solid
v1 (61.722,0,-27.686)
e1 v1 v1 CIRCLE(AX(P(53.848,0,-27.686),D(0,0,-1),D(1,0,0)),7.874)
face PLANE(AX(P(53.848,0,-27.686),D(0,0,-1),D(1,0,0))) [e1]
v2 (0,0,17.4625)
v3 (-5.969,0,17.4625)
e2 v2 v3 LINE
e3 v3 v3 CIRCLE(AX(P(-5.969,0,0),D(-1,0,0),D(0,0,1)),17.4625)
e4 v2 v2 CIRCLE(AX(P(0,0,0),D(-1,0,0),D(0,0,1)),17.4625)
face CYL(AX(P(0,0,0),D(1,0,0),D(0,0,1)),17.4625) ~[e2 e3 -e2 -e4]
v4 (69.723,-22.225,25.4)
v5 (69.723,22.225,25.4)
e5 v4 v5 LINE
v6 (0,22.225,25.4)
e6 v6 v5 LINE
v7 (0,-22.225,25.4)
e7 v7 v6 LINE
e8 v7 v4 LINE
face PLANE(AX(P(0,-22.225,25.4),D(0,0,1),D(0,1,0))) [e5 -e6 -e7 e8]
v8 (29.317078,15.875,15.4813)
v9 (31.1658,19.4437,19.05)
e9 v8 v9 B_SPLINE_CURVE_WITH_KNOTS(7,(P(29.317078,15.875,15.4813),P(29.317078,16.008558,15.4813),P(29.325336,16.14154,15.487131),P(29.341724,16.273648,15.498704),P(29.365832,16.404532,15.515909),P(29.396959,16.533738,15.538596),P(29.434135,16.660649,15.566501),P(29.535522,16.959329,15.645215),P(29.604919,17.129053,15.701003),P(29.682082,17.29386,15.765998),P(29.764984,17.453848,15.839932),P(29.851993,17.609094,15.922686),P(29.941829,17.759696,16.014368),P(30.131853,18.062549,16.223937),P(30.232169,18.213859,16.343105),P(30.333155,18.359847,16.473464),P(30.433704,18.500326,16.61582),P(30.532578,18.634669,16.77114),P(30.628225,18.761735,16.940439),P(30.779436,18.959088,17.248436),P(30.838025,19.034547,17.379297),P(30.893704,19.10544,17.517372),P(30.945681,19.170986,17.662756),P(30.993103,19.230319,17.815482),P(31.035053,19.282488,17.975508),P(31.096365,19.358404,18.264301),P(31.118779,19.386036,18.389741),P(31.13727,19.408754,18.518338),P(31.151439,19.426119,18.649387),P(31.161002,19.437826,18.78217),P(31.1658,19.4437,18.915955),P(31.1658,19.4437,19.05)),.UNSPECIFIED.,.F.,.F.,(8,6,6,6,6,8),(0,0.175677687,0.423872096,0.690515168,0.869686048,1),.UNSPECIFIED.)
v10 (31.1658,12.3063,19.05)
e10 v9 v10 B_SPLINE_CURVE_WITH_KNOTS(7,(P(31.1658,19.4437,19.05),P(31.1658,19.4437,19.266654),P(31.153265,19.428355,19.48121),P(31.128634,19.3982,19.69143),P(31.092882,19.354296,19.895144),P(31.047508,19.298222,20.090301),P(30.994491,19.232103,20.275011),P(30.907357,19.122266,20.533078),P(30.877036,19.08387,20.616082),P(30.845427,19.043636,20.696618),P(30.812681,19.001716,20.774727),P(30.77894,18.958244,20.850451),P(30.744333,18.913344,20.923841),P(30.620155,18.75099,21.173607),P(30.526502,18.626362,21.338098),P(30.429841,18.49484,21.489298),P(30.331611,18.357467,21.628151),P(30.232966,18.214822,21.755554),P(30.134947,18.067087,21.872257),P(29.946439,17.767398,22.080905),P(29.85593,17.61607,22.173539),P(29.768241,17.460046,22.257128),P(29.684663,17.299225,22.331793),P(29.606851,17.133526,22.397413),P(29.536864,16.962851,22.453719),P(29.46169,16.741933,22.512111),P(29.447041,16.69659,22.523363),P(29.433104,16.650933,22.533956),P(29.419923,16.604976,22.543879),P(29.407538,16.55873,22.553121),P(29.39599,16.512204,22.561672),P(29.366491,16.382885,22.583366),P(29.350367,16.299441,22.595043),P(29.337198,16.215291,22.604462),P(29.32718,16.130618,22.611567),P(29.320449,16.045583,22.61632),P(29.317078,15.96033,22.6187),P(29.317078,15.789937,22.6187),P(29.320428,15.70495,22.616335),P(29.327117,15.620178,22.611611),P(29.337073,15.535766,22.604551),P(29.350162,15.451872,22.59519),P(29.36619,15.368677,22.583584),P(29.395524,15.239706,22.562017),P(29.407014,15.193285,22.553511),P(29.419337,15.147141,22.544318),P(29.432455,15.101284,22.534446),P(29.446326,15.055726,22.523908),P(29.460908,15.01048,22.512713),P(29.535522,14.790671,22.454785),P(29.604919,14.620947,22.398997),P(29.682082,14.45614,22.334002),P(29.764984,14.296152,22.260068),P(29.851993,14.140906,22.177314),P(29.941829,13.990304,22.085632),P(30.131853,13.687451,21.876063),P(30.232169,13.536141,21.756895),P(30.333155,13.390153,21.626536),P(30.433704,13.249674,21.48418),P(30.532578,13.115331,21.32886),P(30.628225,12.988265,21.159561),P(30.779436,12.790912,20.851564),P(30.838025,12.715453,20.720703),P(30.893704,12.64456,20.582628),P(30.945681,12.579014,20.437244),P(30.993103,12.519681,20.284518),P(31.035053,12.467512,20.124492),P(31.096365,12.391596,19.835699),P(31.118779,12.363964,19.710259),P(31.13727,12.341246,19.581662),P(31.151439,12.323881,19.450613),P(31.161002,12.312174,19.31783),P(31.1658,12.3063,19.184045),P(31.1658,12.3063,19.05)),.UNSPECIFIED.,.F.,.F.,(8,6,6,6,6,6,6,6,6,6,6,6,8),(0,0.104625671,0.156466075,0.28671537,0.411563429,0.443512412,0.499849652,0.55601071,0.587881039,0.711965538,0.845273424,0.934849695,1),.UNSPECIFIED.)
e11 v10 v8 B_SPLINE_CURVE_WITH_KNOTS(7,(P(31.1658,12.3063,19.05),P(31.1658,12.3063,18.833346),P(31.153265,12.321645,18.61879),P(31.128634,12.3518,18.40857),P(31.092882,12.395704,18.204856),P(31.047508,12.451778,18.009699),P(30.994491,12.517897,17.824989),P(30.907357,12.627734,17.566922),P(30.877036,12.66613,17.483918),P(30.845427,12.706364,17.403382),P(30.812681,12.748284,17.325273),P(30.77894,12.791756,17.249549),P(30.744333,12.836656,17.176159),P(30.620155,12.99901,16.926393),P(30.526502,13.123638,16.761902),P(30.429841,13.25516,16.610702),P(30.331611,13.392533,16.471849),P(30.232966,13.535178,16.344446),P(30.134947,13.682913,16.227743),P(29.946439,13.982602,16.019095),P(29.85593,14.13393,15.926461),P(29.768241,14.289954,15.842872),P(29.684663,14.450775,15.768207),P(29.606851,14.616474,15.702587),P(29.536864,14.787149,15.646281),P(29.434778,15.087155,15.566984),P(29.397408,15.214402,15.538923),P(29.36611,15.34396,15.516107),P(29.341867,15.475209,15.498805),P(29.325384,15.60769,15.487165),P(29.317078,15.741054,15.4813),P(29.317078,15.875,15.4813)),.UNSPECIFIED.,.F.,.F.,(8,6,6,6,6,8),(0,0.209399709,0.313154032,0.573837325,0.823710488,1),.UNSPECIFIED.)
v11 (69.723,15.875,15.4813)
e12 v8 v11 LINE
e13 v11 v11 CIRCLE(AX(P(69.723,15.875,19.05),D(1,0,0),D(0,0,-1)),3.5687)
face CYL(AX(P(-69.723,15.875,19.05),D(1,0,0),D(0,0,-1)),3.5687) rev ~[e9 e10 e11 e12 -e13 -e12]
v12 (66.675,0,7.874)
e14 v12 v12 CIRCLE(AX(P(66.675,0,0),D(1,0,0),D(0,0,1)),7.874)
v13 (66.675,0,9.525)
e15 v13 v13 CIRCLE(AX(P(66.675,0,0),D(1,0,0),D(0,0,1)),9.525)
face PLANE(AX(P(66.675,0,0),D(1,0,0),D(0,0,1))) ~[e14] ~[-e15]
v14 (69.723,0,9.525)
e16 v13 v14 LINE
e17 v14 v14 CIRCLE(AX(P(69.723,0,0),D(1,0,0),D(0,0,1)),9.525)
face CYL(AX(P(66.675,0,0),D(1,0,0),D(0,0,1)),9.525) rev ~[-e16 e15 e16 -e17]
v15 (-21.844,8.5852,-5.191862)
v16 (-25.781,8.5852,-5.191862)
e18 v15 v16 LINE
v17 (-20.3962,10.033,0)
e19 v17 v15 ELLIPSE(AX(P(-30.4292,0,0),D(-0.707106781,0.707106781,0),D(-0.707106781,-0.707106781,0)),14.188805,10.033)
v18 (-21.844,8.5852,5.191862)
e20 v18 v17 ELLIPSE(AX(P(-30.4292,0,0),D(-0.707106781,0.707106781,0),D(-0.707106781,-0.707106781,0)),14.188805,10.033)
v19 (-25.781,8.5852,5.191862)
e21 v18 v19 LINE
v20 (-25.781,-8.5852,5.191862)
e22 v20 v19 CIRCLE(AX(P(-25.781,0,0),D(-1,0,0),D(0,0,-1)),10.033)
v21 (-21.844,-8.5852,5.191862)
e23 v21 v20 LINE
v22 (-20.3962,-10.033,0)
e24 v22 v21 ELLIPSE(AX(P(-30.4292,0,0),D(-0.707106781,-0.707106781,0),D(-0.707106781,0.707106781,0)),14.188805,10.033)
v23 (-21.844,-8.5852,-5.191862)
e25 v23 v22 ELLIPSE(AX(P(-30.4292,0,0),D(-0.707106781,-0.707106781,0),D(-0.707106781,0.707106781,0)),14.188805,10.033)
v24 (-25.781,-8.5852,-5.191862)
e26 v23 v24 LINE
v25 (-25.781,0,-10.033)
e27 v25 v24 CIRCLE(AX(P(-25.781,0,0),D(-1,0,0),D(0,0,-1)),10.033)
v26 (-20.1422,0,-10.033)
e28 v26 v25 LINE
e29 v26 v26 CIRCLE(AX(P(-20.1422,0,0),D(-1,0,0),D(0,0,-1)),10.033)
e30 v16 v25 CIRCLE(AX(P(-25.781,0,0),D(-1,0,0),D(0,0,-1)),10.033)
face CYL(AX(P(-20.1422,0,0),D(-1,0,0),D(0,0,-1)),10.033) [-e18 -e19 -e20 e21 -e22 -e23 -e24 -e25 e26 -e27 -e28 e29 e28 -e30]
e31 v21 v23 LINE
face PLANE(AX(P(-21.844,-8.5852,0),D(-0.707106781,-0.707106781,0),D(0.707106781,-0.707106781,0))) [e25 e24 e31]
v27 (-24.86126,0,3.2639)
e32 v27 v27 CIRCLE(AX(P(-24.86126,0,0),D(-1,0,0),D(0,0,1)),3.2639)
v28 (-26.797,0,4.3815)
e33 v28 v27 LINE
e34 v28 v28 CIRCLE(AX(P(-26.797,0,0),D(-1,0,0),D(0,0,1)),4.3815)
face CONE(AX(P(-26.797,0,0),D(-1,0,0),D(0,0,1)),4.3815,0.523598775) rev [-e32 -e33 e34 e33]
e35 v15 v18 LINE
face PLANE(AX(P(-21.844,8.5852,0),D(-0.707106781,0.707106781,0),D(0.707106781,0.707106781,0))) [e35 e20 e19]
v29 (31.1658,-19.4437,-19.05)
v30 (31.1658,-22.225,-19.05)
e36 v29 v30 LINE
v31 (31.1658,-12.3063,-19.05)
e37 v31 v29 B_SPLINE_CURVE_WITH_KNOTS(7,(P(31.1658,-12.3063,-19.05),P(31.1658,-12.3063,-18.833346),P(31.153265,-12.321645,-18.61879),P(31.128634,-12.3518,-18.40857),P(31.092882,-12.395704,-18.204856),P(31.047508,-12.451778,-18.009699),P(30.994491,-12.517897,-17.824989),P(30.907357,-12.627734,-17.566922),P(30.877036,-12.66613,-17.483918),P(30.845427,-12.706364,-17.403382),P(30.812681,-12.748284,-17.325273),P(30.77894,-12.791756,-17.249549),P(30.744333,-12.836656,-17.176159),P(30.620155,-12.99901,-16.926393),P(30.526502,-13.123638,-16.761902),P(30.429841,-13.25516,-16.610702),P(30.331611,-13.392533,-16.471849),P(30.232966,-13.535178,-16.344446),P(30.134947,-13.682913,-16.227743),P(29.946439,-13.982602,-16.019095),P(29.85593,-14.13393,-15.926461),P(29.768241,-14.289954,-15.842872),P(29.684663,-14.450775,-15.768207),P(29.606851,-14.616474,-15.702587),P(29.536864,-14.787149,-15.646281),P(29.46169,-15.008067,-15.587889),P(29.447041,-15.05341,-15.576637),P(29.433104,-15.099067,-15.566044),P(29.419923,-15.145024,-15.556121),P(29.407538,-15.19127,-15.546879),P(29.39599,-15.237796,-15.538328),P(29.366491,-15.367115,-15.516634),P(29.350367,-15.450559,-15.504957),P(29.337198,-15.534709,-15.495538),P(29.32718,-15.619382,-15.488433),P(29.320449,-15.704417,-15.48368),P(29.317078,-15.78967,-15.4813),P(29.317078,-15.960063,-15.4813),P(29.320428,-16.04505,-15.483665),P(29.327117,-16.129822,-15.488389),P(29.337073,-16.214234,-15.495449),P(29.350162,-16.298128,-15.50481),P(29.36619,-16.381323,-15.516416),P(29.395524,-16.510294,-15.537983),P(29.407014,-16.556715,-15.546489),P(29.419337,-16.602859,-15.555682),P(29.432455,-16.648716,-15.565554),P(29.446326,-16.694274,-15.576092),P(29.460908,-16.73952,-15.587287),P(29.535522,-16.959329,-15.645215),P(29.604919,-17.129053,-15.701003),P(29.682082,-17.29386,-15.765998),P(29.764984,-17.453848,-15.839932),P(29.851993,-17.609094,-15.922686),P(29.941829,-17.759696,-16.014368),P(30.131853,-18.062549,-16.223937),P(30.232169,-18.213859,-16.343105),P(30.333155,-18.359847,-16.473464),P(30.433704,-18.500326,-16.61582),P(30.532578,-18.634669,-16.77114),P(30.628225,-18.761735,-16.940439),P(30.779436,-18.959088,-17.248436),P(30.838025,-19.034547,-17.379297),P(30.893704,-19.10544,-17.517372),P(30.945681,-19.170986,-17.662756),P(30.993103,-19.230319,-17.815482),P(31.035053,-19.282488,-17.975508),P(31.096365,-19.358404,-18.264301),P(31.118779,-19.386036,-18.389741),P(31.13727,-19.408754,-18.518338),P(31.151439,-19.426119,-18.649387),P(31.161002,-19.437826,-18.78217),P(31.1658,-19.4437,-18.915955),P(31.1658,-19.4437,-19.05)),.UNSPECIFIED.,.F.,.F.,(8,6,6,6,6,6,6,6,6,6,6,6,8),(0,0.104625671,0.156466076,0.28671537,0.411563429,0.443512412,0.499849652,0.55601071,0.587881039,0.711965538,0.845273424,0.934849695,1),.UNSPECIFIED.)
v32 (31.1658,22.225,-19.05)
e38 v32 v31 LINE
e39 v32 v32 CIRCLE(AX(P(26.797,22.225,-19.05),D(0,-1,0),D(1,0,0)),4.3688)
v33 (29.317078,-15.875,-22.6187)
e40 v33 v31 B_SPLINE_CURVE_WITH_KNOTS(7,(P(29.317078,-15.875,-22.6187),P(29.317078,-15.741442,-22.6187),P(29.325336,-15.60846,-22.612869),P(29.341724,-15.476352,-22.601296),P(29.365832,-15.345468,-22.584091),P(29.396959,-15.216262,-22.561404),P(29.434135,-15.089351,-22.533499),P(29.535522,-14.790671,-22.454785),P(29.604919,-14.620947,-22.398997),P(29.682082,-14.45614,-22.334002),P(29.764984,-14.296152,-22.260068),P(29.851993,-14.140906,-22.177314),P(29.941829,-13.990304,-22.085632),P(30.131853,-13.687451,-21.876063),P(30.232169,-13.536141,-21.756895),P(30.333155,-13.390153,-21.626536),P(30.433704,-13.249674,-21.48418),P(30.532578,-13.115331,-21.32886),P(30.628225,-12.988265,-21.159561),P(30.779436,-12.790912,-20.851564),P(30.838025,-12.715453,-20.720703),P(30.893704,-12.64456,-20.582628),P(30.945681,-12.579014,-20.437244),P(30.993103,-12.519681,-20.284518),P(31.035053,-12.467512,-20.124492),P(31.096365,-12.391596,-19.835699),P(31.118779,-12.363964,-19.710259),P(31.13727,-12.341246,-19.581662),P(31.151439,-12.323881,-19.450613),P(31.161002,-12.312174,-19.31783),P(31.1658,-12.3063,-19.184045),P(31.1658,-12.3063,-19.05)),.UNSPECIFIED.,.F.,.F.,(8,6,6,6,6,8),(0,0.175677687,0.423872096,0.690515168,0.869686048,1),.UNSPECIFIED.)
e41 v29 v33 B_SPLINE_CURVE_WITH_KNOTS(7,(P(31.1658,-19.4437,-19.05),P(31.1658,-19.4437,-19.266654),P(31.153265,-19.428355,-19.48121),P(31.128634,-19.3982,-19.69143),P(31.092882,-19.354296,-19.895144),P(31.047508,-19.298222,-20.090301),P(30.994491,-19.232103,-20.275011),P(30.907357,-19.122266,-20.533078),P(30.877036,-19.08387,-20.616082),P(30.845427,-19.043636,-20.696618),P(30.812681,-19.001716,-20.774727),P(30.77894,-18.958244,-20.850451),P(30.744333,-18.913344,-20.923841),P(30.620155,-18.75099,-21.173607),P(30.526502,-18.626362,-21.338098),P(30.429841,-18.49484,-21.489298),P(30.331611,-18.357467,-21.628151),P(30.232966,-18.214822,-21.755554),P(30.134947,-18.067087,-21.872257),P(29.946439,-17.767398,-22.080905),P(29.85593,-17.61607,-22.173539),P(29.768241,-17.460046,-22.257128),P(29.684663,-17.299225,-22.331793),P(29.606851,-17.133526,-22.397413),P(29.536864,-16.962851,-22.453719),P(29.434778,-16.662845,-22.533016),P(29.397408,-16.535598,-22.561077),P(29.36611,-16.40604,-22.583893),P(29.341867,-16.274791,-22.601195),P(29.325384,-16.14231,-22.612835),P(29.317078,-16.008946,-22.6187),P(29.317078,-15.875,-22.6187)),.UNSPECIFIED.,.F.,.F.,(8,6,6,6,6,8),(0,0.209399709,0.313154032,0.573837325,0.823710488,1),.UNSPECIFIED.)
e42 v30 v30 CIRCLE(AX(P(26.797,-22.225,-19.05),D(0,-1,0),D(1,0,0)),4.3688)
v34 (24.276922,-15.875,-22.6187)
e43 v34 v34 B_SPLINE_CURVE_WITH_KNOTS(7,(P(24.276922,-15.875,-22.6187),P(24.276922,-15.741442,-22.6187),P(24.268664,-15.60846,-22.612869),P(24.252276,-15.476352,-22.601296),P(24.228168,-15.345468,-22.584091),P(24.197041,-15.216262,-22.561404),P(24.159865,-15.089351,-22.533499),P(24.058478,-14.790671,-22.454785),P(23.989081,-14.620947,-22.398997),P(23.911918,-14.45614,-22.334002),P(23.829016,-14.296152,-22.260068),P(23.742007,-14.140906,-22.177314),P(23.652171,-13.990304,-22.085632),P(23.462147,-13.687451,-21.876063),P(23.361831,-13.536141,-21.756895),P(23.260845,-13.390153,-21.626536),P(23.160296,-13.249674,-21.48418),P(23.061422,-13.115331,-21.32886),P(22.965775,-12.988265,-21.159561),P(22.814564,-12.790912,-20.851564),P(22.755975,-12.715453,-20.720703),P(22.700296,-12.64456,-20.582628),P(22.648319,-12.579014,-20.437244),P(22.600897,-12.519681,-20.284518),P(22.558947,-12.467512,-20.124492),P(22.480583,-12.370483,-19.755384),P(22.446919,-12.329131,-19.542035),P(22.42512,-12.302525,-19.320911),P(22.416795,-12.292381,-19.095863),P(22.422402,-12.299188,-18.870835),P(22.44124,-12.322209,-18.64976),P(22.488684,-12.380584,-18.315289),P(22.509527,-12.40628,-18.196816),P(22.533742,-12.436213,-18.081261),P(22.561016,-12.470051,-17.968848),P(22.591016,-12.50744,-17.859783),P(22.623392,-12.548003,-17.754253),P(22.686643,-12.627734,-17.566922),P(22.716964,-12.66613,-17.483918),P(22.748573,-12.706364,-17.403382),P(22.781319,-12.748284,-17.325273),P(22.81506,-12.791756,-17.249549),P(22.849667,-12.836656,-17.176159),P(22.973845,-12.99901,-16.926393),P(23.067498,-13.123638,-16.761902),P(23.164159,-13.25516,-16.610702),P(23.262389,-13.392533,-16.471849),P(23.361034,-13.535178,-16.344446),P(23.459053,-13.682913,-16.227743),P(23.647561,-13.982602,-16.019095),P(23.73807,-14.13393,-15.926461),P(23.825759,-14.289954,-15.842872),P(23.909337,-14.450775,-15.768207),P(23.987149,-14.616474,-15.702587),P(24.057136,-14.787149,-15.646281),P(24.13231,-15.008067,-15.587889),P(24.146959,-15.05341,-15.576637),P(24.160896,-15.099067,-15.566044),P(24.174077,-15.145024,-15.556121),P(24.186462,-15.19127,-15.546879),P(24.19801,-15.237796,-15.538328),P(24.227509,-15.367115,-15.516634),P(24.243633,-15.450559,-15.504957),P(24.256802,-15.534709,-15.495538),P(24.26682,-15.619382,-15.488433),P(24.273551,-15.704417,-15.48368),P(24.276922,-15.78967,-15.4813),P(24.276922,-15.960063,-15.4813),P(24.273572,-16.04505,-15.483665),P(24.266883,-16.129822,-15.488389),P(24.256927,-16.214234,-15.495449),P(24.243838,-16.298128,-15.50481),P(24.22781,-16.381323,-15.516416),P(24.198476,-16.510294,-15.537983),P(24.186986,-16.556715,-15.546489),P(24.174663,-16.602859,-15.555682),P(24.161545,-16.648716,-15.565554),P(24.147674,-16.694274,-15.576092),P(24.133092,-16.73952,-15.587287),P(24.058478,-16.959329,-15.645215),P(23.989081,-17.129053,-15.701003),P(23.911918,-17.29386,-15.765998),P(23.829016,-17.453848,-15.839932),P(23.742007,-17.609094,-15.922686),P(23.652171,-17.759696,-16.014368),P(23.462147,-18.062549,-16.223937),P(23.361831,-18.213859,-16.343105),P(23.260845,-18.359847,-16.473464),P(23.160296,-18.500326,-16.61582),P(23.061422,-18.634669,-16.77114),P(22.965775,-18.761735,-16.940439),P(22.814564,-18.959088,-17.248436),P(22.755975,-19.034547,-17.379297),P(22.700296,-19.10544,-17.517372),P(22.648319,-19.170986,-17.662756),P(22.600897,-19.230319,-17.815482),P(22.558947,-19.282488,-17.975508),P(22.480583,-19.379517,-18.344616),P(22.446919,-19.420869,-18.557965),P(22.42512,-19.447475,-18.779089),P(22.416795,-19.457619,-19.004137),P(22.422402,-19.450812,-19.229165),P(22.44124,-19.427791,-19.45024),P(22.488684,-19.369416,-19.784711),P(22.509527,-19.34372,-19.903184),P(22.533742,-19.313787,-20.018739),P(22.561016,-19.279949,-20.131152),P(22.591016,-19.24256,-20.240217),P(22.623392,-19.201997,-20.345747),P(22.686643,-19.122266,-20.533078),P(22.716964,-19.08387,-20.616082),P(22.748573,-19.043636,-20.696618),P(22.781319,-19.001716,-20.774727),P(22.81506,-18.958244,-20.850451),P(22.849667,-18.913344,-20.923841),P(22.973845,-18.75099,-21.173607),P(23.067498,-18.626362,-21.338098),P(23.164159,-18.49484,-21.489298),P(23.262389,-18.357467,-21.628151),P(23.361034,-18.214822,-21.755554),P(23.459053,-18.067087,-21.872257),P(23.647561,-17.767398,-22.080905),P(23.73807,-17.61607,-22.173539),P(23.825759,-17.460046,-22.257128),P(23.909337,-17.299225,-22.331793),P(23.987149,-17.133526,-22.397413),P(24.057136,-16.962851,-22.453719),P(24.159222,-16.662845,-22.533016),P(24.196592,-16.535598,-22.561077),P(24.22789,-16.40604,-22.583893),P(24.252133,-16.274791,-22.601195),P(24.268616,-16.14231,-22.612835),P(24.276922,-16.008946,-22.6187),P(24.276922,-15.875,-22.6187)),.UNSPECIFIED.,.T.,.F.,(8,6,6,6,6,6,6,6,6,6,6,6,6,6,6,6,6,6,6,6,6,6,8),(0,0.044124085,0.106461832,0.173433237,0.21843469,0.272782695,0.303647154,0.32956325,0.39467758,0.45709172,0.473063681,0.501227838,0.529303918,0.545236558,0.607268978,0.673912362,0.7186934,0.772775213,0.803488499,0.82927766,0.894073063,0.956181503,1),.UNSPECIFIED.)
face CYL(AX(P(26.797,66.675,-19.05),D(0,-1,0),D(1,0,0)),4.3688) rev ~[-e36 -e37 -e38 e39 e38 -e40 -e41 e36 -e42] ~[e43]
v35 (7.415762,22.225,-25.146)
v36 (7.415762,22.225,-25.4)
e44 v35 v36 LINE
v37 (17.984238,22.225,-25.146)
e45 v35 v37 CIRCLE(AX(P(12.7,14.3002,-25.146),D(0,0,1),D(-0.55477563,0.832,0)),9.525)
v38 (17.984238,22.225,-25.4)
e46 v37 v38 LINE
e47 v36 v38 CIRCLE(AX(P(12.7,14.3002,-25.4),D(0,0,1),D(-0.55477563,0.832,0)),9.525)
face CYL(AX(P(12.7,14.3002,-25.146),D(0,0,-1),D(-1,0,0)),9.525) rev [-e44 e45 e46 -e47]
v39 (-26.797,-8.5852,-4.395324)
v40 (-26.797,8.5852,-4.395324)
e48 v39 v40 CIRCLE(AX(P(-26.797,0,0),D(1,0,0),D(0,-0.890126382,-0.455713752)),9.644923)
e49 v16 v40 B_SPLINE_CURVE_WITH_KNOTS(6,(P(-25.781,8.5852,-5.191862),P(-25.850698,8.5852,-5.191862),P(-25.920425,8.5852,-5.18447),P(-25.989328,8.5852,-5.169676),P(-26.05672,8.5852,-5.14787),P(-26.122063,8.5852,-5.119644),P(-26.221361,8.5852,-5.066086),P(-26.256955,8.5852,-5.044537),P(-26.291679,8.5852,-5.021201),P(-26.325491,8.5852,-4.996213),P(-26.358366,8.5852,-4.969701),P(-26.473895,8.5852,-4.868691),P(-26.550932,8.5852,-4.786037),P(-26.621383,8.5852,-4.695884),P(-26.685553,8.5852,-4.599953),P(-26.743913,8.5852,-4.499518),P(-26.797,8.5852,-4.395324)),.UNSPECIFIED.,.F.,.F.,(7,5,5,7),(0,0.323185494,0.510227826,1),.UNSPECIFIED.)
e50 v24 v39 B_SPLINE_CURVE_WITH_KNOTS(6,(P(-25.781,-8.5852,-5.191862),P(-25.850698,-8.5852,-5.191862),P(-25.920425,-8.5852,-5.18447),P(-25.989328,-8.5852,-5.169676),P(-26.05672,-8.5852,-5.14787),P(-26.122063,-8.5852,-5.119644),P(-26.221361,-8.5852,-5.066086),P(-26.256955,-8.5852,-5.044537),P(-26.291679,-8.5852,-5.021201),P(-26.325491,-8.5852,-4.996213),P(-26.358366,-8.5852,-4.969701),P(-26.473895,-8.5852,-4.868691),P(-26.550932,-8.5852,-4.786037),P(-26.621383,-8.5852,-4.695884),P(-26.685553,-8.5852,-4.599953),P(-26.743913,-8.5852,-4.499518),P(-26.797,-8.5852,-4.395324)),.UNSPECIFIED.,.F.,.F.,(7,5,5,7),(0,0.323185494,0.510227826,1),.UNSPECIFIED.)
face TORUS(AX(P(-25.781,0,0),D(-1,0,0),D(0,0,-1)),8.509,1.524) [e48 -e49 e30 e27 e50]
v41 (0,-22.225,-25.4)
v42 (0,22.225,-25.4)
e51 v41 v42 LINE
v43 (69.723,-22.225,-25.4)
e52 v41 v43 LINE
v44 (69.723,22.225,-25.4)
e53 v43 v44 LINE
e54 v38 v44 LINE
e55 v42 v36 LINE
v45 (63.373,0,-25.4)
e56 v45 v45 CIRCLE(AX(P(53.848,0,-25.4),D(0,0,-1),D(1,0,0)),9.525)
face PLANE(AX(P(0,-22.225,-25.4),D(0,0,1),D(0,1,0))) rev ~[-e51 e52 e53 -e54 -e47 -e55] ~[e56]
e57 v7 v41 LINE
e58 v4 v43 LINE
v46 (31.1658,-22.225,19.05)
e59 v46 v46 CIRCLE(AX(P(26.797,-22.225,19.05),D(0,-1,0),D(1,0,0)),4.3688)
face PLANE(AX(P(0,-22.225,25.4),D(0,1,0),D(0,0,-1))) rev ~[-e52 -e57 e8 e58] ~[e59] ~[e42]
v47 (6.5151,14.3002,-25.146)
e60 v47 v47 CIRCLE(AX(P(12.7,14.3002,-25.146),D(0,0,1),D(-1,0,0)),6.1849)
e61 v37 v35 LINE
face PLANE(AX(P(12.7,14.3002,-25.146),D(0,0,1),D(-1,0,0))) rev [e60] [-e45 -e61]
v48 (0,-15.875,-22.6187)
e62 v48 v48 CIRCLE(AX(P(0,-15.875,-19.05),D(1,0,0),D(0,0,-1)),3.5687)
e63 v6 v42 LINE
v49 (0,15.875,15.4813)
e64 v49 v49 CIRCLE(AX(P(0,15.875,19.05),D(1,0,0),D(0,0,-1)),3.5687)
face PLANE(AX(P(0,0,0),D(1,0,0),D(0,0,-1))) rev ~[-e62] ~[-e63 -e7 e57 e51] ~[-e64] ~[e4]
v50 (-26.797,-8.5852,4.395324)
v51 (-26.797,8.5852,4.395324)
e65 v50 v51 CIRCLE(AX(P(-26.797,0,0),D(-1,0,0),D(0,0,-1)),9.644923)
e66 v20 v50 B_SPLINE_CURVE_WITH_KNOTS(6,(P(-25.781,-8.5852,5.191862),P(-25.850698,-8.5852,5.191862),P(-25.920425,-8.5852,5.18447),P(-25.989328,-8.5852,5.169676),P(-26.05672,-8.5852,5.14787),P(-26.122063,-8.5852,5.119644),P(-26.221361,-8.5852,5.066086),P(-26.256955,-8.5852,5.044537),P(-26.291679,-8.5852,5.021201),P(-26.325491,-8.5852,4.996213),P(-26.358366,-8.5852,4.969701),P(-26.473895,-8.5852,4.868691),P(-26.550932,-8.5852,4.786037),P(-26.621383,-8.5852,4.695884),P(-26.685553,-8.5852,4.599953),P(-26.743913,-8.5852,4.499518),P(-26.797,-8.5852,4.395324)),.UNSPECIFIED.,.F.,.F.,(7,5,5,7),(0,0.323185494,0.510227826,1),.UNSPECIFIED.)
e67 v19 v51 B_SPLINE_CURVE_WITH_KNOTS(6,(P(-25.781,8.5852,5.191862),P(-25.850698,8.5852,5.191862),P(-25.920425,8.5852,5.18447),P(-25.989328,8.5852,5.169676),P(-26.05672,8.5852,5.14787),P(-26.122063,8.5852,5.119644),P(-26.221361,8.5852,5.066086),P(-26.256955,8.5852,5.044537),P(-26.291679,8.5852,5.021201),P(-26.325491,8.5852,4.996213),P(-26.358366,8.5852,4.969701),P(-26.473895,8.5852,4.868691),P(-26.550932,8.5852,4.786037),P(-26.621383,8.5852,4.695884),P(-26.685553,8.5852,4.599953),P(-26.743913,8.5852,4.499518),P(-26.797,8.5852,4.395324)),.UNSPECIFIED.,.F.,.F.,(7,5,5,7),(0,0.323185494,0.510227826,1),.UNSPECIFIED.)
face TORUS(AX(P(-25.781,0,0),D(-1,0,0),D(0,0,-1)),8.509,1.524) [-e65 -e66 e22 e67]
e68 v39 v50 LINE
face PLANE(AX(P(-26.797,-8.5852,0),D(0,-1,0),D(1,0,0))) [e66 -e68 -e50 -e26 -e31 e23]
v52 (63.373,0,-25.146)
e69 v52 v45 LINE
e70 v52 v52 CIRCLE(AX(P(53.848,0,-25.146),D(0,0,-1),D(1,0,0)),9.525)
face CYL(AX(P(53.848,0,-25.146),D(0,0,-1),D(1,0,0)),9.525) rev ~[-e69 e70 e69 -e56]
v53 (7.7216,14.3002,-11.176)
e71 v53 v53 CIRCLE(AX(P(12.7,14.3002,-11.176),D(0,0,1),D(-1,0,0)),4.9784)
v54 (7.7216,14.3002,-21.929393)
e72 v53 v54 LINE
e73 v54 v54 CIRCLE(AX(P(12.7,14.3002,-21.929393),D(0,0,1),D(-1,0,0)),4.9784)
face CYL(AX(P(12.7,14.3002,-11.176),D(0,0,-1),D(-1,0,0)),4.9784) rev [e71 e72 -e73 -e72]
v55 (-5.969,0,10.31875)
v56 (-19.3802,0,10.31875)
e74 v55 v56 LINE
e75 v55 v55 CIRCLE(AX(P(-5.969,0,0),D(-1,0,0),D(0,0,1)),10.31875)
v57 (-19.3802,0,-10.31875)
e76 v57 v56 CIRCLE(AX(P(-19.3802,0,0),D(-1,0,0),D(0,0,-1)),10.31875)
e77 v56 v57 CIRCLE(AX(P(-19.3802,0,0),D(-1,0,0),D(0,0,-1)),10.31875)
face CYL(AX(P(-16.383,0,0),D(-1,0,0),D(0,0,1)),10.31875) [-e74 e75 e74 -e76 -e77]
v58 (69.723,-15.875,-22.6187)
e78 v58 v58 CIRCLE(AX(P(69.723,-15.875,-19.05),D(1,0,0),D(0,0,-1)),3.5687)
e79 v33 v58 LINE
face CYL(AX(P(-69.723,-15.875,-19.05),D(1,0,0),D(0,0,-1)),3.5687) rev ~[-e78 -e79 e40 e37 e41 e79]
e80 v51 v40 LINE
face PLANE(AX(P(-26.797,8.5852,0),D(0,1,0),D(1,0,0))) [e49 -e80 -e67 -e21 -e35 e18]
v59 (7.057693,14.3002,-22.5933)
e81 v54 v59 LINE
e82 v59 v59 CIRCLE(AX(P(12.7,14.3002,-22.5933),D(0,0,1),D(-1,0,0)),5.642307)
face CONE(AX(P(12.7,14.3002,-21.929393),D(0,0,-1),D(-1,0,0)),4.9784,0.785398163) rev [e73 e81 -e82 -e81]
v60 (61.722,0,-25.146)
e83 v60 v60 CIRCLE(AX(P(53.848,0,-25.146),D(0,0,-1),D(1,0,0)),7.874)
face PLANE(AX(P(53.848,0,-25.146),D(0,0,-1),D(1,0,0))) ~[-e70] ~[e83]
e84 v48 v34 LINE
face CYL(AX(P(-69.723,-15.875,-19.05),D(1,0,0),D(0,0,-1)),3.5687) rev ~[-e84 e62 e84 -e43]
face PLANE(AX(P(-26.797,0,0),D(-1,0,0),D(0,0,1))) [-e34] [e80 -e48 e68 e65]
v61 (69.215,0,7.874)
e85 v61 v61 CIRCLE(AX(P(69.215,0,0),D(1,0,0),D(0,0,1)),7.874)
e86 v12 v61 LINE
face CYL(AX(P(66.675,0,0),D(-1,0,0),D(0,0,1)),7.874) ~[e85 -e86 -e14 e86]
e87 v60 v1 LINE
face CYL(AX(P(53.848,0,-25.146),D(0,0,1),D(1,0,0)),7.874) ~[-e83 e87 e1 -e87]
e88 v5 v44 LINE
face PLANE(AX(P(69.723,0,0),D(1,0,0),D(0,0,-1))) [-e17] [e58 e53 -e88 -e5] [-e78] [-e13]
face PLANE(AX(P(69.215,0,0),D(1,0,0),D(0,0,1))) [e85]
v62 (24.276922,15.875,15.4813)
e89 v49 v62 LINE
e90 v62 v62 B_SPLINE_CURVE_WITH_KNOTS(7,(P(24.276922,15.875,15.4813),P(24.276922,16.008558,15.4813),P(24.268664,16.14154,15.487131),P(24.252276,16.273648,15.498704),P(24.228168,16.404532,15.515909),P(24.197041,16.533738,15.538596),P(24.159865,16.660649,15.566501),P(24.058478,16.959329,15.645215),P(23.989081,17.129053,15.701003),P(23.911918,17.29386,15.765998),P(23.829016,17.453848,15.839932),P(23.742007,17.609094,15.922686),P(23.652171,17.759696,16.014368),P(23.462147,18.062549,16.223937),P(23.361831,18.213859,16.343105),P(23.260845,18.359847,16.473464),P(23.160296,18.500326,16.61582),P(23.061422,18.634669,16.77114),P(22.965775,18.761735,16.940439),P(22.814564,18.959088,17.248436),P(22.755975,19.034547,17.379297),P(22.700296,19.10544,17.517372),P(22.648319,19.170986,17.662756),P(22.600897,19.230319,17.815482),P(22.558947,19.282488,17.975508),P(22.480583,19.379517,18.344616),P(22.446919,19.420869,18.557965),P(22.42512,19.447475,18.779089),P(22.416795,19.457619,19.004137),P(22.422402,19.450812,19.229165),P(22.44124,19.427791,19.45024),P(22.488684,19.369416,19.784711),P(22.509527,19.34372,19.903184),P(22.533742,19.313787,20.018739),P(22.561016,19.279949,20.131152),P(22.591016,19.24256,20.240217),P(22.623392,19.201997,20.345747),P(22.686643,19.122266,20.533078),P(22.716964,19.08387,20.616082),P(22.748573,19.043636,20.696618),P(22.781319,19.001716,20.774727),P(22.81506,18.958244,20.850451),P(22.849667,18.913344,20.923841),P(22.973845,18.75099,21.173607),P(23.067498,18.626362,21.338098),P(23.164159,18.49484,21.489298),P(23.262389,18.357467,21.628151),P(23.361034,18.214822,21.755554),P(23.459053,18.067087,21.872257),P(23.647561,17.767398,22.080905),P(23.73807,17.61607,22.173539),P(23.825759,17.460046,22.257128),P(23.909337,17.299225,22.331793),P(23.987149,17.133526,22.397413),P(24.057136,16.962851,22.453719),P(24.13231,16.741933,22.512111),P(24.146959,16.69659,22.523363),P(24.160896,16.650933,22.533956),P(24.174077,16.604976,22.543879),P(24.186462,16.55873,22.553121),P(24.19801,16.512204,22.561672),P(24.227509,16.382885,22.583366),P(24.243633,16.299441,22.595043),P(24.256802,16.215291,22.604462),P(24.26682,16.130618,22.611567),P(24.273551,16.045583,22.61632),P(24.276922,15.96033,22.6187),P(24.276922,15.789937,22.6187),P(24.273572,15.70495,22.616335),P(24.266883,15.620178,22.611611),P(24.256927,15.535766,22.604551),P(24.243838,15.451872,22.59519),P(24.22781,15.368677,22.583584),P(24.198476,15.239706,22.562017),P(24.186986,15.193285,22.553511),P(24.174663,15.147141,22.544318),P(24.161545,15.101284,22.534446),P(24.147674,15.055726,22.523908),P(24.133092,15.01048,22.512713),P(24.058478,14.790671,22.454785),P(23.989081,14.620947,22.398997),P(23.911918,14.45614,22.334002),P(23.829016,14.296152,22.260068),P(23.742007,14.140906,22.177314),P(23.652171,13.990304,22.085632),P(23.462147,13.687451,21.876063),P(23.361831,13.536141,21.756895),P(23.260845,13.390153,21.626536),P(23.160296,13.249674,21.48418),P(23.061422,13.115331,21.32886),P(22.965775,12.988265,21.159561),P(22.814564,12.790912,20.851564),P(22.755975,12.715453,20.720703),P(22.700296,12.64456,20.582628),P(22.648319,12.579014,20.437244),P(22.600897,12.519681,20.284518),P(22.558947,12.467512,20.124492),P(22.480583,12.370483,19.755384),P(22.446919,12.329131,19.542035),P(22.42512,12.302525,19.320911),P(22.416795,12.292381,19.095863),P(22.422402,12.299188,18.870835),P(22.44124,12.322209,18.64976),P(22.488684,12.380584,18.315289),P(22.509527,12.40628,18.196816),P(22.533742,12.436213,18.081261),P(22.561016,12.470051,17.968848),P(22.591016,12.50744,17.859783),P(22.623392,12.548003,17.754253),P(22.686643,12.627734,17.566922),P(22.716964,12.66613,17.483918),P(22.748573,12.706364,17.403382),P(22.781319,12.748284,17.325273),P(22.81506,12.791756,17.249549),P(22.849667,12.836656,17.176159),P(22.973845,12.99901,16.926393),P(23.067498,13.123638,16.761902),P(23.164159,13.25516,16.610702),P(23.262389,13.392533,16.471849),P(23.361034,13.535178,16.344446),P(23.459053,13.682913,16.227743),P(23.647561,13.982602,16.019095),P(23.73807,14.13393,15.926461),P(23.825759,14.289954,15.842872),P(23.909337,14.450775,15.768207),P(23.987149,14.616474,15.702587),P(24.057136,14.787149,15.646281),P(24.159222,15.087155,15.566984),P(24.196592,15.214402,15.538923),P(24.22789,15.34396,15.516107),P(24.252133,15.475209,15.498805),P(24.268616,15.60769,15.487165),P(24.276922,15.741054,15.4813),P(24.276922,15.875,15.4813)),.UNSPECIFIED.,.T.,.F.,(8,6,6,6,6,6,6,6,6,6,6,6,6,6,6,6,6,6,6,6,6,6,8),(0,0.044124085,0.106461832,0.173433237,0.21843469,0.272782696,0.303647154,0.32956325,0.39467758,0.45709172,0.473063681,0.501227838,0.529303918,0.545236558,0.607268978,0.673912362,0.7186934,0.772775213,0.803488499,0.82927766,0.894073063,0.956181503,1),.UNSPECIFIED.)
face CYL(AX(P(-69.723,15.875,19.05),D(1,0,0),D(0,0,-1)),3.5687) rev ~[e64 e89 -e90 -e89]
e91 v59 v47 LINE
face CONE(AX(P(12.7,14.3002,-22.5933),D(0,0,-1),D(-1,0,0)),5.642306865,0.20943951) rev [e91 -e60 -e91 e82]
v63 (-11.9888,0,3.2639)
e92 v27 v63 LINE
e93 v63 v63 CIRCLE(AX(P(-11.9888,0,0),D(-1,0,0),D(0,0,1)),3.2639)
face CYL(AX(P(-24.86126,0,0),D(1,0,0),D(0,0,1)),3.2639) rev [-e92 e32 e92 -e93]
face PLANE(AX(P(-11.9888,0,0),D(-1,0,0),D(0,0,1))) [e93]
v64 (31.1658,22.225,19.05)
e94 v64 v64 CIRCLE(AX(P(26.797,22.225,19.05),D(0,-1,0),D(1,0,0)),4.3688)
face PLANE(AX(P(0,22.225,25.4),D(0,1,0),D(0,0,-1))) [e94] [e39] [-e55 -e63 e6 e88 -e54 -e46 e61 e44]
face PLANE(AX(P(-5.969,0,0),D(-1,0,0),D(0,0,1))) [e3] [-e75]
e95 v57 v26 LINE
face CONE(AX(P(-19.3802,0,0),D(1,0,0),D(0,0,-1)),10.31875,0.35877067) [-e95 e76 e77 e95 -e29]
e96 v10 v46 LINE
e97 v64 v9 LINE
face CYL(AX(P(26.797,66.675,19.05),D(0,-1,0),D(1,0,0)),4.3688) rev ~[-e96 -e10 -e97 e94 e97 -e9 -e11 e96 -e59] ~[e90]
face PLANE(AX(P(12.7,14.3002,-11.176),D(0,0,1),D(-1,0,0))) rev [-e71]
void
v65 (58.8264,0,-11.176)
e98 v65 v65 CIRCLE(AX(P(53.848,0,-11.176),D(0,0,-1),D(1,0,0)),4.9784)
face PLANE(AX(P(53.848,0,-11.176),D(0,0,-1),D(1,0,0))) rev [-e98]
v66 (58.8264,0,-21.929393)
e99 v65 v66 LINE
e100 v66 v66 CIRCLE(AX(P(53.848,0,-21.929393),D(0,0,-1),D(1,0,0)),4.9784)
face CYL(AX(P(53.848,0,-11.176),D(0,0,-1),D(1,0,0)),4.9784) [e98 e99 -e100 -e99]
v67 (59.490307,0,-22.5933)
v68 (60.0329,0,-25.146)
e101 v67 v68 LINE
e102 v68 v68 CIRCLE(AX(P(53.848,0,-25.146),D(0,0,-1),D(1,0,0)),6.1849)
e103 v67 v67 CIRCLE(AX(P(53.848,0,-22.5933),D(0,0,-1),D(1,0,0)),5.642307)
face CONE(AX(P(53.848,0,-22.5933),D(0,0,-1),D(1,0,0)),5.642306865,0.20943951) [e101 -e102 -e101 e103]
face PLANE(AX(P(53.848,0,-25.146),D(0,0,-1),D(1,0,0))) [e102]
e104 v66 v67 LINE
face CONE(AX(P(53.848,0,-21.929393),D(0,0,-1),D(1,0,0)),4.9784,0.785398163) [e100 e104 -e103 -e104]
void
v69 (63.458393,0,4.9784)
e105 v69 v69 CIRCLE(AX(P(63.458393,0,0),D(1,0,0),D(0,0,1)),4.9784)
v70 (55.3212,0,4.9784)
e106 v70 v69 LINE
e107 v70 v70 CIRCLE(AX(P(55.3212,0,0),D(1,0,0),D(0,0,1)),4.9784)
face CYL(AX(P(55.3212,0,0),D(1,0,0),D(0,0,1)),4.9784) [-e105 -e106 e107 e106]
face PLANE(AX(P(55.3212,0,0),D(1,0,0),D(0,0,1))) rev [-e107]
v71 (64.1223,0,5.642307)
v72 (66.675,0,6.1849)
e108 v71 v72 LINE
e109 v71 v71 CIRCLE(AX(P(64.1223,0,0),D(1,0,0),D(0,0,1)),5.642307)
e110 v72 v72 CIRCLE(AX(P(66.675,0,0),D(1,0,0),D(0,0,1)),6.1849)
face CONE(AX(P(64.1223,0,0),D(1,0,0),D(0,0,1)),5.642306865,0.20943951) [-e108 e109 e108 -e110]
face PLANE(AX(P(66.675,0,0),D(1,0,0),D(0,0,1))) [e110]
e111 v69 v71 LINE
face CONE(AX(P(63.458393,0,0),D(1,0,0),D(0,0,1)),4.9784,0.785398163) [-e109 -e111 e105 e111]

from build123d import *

# Parameters (mm, degrees)
SKETCH1_W          = 50.8
SKETCH1_H          = 44.45
EXTRUDE1_DEPTH     = 69.723
SKETCH5_R          = 17.4625
EXTRUDE2_DEPTH     = 5.969
SKETCH6_W          = 10.31875
SKETCH6_H          = 20.828
CUT_EXTRUDE4_DEPTH = 30.48
SKETCH13_R         = 7.874
EXTRUDE3_DEPTH     = 2.54
HOLE1_D            = 7.1374
HOLE1_DEPTH        = 69.723
HOLE2_D            = 8.7376
HOLE2_DEPTH        = 44.45
SKETCH18_R         = 7.874
EXTRUDE4_DEPTH     = 2.54


with BuildPart() as part:
    # Sketch1 → Extrude1 (new body)
    with BuildSketch(Plane(origin=(0, 0, 0), x_dir=(0, 0, -1), z_dir=(1, 0, 0))):
        Rectangle(SKETCH1_W, SKETCH1_H)
    extrude(amount=EXTRUDE1_DEPTH)

    # S2D0002 → Cut-Revolve1 (revolve, cut)
    with BuildSketch(Plane(origin=(0, 14.3002, 0), x_dir=(-1, 0, 0), z_dir=(0, 1, 0)), mode=Mode.PRIVATE) as cut_revolve1_sk:
        Polygon((-18.8849, -25.146), (-22.225, -25.146), (-22.225, -25.4), (-12.7, -25.4), (-12.7, -11.176), (-17.6784, -11.176), (-17.6784, -21.929393135), (-18.342306865, -22.5933), align=None)
    revolve(cut_revolve1_sk.sketch.rotate(Axis((12.7, 14.3002, -19.13842003), (0, 0, 1)), 180), axis=Axis((12.7, 14.3002, -19.13842003), (0, 0, 1)), mode=Mode.SUBTRACT)  # turned: the seam where the file's is

    # Sketch3 → Cut-Revolve2 (revolve, cut)
    with BuildSketch(Plane(origin=(41.148, 0, -25.146), x_dir=(1, 0, 0), z_dir=(0, 1, 0))):
        Polygon((18.8849, 0), (22.225, 0), (22.225, 0.254), (12.7, 0.254), (12.7, -13.97), (17.6784, -13.97), (17.6784, -3.216606865), (18.342306865, -2.5527), align=None)
    revolve(axis=Axis((53.848, 0, -3.189624441), (0, 0, -1)), mode=Mode.SUBTRACT)

    # Sketch4 → Cut-Revolve3 (revolve, cut)
    with BuildSketch(Plane(origin=(53.975, 0, 0), x_dir=(0, -1, 0), z_dir=(0, 0, 1)), mode=Mode.PRIVATE) as cut_revolve3_sk:
        Polygon((6.1849, 12.7), (9.525, 12.7), (9.525, 15.748), (0, 15.748), (0, 1.3462), (4.9784, 1.3462), (4.9784, 9.483393135), (5.642306865, 10.1473), align=None)
    revolve(cut_revolve3_sk.sketch.rotate(Axis((38.879609832, 0, 0), (1, 0, 0)), 270), axis=Axis((38.879609832, 0, 0), (1, 0, 0)), mode=Mode.SUBTRACT)  # turned: the seam where the file's is

    # Sketch5 → Extrude2 (add)
    with BuildSketch(Plane.ZY):
        Circle(SKETCH5_R)
    extrude(amount=EXTRUDE2_DEPTH)

    # Sketch6 → Revolve1 (revolve)
    with BuildSketch(Plane(origin=(0, 0, 0), x_dir=(0, 0, 1), z_dir=(0, -1, 0)), mode=Mode.PRIVATE) as revolve1_sk:
        with Locations((-5.159375, 16.383)):
            Rectangle(SKETCH6_W, SKETCH6_H)
    revolve(revolve1_sk.sketch.rotate(Axis((5.754582971, 0, 0), (-1, 0, 0)), 180), axis=Axis((5.754582971, 0, 0), (-1, 0, 0)))  # turned: the seam where the file's is

    # S2D0001 → Cut-Revolve4 (revolve, cut)
    with BuildSketch(Plane(origin=(-18.511260017, 3.2639, 0), x_dir=(0, 1, 0), z_dir=(0, 0, 1)), mode=Mode.PRIVATE) as cut_revolve4_sk:
        Polygon((0, 6.35), (0, -6.522460017), (-3.2639, -6.522460017), (-3.2639, 8.285739983), (1.1176, 8.285739983), align=None)
    revolve(cut_revolve4_sk.sketch.rotate(Axis((0, 0, 0), (-1, 0, 0)), 270), axis=Axis((0, 0, 0), (-1, 0, 0)), mode=Mode.SUBTRACT)  # turned: the seam where the file's is

    # Sketch8 → Cut-Revolve5 (revolve, cut)
    with BuildSketch(Plane(origin=(0, 0, 0), x_dir=(0, 0, -1), z_dir=(0, 1, 0)), mode=Mode.PRIVATE) as cut_revolve5_sk:
        with BuildLine():
            Line((-10.31875, 19.3802), (-10.033, 20.1422))
            Line((-10.033, 20.1422), (-10.033, 25.781))
            ThreePointArc((-10.033, 25.781), (-9.932678675, 26.324796865), (-9.644922533, 26.797))
            Line((-9.644922533, 26.797), (-10.31875, 26.797))
            Line((-10.31875, 26.797), (-10.31875, 19.3802))
        make_face()
    revolve(cut_revolve5_sk.sketch.rotate(Axis((-12.65936, 0, 0), (-1, 0, 0)), 180), axis=Axis((-12.65936, 0, 0), (-1, 0, 0)), mode=Mode.SUBTRACT)  # turned: the seam where the file's is

    # Sketch12 → Cut-Extrude4 (cut, symmetric)
    with BuildSketch(Plane(origin=(0, 0, 0), x_dir=(0, -1, 0), z_dir=(0, 0, -1))):
        Polygon((8.5852, 26.797), (8.5852, 21.844), (10.033, 20.3962), (10.033, 26.797), align=None)
        Polygon((-8.5852, 26.797), (-8.5852, 21.844), (-10.033, 20.3962), (-10.033, 26.797), align=None)
    extrude(amount=CUT_EXTRUDE4_DEPTH, both=True, mode=Mode.SUBTRACT)

    # Sketch13 → Extrude3 (add)
    with BuildSketch(Plane(origin=(0, 0, -25.146), x_dir=(-1, 0, 0), z_dir=(0, 0, -1))):
        with Locations(Location((-53.848, 0, 0), (0, 0, 180))):  # turned: the seam where the file's is
            Circle(SKETCH13_R)
    extrude(amount=EXTRUDE3_DEPTH)

    # Hole1
    with Locations(Plane.ZY):
        with Locations((-19.05, -15.875), (19.05, 15.875)):
            Hole(HOLE1_D / 2, depth=HOLE1_DEPTH)

    # Hole2
    with Locations(Plane(origin=(0, 22.225, 0), x_dir=(-1, 0, 0), z_dir=(0, 1, 0))):
        with Locations((-26.797, -19.05), (-26.797, 19.05)):
            Hole(HOLE2_D / 2, depth=HOLE2_DEPTH)

    # Sketch18 → Extrude4 (add)
    with BuildSketch(Plane(origin=(66.675, 0, 0), x_dir=(0, 0, -1), z_dir=(1, 0, 0))):
        with Locations(Location((0, 0, 0), (0, 0, 180))):  # turned: the seam where the file's is
            Circle(SKETCH18_R)
    extrude(amount=EXTRUDE4_DEPTH)


solid = part.part
